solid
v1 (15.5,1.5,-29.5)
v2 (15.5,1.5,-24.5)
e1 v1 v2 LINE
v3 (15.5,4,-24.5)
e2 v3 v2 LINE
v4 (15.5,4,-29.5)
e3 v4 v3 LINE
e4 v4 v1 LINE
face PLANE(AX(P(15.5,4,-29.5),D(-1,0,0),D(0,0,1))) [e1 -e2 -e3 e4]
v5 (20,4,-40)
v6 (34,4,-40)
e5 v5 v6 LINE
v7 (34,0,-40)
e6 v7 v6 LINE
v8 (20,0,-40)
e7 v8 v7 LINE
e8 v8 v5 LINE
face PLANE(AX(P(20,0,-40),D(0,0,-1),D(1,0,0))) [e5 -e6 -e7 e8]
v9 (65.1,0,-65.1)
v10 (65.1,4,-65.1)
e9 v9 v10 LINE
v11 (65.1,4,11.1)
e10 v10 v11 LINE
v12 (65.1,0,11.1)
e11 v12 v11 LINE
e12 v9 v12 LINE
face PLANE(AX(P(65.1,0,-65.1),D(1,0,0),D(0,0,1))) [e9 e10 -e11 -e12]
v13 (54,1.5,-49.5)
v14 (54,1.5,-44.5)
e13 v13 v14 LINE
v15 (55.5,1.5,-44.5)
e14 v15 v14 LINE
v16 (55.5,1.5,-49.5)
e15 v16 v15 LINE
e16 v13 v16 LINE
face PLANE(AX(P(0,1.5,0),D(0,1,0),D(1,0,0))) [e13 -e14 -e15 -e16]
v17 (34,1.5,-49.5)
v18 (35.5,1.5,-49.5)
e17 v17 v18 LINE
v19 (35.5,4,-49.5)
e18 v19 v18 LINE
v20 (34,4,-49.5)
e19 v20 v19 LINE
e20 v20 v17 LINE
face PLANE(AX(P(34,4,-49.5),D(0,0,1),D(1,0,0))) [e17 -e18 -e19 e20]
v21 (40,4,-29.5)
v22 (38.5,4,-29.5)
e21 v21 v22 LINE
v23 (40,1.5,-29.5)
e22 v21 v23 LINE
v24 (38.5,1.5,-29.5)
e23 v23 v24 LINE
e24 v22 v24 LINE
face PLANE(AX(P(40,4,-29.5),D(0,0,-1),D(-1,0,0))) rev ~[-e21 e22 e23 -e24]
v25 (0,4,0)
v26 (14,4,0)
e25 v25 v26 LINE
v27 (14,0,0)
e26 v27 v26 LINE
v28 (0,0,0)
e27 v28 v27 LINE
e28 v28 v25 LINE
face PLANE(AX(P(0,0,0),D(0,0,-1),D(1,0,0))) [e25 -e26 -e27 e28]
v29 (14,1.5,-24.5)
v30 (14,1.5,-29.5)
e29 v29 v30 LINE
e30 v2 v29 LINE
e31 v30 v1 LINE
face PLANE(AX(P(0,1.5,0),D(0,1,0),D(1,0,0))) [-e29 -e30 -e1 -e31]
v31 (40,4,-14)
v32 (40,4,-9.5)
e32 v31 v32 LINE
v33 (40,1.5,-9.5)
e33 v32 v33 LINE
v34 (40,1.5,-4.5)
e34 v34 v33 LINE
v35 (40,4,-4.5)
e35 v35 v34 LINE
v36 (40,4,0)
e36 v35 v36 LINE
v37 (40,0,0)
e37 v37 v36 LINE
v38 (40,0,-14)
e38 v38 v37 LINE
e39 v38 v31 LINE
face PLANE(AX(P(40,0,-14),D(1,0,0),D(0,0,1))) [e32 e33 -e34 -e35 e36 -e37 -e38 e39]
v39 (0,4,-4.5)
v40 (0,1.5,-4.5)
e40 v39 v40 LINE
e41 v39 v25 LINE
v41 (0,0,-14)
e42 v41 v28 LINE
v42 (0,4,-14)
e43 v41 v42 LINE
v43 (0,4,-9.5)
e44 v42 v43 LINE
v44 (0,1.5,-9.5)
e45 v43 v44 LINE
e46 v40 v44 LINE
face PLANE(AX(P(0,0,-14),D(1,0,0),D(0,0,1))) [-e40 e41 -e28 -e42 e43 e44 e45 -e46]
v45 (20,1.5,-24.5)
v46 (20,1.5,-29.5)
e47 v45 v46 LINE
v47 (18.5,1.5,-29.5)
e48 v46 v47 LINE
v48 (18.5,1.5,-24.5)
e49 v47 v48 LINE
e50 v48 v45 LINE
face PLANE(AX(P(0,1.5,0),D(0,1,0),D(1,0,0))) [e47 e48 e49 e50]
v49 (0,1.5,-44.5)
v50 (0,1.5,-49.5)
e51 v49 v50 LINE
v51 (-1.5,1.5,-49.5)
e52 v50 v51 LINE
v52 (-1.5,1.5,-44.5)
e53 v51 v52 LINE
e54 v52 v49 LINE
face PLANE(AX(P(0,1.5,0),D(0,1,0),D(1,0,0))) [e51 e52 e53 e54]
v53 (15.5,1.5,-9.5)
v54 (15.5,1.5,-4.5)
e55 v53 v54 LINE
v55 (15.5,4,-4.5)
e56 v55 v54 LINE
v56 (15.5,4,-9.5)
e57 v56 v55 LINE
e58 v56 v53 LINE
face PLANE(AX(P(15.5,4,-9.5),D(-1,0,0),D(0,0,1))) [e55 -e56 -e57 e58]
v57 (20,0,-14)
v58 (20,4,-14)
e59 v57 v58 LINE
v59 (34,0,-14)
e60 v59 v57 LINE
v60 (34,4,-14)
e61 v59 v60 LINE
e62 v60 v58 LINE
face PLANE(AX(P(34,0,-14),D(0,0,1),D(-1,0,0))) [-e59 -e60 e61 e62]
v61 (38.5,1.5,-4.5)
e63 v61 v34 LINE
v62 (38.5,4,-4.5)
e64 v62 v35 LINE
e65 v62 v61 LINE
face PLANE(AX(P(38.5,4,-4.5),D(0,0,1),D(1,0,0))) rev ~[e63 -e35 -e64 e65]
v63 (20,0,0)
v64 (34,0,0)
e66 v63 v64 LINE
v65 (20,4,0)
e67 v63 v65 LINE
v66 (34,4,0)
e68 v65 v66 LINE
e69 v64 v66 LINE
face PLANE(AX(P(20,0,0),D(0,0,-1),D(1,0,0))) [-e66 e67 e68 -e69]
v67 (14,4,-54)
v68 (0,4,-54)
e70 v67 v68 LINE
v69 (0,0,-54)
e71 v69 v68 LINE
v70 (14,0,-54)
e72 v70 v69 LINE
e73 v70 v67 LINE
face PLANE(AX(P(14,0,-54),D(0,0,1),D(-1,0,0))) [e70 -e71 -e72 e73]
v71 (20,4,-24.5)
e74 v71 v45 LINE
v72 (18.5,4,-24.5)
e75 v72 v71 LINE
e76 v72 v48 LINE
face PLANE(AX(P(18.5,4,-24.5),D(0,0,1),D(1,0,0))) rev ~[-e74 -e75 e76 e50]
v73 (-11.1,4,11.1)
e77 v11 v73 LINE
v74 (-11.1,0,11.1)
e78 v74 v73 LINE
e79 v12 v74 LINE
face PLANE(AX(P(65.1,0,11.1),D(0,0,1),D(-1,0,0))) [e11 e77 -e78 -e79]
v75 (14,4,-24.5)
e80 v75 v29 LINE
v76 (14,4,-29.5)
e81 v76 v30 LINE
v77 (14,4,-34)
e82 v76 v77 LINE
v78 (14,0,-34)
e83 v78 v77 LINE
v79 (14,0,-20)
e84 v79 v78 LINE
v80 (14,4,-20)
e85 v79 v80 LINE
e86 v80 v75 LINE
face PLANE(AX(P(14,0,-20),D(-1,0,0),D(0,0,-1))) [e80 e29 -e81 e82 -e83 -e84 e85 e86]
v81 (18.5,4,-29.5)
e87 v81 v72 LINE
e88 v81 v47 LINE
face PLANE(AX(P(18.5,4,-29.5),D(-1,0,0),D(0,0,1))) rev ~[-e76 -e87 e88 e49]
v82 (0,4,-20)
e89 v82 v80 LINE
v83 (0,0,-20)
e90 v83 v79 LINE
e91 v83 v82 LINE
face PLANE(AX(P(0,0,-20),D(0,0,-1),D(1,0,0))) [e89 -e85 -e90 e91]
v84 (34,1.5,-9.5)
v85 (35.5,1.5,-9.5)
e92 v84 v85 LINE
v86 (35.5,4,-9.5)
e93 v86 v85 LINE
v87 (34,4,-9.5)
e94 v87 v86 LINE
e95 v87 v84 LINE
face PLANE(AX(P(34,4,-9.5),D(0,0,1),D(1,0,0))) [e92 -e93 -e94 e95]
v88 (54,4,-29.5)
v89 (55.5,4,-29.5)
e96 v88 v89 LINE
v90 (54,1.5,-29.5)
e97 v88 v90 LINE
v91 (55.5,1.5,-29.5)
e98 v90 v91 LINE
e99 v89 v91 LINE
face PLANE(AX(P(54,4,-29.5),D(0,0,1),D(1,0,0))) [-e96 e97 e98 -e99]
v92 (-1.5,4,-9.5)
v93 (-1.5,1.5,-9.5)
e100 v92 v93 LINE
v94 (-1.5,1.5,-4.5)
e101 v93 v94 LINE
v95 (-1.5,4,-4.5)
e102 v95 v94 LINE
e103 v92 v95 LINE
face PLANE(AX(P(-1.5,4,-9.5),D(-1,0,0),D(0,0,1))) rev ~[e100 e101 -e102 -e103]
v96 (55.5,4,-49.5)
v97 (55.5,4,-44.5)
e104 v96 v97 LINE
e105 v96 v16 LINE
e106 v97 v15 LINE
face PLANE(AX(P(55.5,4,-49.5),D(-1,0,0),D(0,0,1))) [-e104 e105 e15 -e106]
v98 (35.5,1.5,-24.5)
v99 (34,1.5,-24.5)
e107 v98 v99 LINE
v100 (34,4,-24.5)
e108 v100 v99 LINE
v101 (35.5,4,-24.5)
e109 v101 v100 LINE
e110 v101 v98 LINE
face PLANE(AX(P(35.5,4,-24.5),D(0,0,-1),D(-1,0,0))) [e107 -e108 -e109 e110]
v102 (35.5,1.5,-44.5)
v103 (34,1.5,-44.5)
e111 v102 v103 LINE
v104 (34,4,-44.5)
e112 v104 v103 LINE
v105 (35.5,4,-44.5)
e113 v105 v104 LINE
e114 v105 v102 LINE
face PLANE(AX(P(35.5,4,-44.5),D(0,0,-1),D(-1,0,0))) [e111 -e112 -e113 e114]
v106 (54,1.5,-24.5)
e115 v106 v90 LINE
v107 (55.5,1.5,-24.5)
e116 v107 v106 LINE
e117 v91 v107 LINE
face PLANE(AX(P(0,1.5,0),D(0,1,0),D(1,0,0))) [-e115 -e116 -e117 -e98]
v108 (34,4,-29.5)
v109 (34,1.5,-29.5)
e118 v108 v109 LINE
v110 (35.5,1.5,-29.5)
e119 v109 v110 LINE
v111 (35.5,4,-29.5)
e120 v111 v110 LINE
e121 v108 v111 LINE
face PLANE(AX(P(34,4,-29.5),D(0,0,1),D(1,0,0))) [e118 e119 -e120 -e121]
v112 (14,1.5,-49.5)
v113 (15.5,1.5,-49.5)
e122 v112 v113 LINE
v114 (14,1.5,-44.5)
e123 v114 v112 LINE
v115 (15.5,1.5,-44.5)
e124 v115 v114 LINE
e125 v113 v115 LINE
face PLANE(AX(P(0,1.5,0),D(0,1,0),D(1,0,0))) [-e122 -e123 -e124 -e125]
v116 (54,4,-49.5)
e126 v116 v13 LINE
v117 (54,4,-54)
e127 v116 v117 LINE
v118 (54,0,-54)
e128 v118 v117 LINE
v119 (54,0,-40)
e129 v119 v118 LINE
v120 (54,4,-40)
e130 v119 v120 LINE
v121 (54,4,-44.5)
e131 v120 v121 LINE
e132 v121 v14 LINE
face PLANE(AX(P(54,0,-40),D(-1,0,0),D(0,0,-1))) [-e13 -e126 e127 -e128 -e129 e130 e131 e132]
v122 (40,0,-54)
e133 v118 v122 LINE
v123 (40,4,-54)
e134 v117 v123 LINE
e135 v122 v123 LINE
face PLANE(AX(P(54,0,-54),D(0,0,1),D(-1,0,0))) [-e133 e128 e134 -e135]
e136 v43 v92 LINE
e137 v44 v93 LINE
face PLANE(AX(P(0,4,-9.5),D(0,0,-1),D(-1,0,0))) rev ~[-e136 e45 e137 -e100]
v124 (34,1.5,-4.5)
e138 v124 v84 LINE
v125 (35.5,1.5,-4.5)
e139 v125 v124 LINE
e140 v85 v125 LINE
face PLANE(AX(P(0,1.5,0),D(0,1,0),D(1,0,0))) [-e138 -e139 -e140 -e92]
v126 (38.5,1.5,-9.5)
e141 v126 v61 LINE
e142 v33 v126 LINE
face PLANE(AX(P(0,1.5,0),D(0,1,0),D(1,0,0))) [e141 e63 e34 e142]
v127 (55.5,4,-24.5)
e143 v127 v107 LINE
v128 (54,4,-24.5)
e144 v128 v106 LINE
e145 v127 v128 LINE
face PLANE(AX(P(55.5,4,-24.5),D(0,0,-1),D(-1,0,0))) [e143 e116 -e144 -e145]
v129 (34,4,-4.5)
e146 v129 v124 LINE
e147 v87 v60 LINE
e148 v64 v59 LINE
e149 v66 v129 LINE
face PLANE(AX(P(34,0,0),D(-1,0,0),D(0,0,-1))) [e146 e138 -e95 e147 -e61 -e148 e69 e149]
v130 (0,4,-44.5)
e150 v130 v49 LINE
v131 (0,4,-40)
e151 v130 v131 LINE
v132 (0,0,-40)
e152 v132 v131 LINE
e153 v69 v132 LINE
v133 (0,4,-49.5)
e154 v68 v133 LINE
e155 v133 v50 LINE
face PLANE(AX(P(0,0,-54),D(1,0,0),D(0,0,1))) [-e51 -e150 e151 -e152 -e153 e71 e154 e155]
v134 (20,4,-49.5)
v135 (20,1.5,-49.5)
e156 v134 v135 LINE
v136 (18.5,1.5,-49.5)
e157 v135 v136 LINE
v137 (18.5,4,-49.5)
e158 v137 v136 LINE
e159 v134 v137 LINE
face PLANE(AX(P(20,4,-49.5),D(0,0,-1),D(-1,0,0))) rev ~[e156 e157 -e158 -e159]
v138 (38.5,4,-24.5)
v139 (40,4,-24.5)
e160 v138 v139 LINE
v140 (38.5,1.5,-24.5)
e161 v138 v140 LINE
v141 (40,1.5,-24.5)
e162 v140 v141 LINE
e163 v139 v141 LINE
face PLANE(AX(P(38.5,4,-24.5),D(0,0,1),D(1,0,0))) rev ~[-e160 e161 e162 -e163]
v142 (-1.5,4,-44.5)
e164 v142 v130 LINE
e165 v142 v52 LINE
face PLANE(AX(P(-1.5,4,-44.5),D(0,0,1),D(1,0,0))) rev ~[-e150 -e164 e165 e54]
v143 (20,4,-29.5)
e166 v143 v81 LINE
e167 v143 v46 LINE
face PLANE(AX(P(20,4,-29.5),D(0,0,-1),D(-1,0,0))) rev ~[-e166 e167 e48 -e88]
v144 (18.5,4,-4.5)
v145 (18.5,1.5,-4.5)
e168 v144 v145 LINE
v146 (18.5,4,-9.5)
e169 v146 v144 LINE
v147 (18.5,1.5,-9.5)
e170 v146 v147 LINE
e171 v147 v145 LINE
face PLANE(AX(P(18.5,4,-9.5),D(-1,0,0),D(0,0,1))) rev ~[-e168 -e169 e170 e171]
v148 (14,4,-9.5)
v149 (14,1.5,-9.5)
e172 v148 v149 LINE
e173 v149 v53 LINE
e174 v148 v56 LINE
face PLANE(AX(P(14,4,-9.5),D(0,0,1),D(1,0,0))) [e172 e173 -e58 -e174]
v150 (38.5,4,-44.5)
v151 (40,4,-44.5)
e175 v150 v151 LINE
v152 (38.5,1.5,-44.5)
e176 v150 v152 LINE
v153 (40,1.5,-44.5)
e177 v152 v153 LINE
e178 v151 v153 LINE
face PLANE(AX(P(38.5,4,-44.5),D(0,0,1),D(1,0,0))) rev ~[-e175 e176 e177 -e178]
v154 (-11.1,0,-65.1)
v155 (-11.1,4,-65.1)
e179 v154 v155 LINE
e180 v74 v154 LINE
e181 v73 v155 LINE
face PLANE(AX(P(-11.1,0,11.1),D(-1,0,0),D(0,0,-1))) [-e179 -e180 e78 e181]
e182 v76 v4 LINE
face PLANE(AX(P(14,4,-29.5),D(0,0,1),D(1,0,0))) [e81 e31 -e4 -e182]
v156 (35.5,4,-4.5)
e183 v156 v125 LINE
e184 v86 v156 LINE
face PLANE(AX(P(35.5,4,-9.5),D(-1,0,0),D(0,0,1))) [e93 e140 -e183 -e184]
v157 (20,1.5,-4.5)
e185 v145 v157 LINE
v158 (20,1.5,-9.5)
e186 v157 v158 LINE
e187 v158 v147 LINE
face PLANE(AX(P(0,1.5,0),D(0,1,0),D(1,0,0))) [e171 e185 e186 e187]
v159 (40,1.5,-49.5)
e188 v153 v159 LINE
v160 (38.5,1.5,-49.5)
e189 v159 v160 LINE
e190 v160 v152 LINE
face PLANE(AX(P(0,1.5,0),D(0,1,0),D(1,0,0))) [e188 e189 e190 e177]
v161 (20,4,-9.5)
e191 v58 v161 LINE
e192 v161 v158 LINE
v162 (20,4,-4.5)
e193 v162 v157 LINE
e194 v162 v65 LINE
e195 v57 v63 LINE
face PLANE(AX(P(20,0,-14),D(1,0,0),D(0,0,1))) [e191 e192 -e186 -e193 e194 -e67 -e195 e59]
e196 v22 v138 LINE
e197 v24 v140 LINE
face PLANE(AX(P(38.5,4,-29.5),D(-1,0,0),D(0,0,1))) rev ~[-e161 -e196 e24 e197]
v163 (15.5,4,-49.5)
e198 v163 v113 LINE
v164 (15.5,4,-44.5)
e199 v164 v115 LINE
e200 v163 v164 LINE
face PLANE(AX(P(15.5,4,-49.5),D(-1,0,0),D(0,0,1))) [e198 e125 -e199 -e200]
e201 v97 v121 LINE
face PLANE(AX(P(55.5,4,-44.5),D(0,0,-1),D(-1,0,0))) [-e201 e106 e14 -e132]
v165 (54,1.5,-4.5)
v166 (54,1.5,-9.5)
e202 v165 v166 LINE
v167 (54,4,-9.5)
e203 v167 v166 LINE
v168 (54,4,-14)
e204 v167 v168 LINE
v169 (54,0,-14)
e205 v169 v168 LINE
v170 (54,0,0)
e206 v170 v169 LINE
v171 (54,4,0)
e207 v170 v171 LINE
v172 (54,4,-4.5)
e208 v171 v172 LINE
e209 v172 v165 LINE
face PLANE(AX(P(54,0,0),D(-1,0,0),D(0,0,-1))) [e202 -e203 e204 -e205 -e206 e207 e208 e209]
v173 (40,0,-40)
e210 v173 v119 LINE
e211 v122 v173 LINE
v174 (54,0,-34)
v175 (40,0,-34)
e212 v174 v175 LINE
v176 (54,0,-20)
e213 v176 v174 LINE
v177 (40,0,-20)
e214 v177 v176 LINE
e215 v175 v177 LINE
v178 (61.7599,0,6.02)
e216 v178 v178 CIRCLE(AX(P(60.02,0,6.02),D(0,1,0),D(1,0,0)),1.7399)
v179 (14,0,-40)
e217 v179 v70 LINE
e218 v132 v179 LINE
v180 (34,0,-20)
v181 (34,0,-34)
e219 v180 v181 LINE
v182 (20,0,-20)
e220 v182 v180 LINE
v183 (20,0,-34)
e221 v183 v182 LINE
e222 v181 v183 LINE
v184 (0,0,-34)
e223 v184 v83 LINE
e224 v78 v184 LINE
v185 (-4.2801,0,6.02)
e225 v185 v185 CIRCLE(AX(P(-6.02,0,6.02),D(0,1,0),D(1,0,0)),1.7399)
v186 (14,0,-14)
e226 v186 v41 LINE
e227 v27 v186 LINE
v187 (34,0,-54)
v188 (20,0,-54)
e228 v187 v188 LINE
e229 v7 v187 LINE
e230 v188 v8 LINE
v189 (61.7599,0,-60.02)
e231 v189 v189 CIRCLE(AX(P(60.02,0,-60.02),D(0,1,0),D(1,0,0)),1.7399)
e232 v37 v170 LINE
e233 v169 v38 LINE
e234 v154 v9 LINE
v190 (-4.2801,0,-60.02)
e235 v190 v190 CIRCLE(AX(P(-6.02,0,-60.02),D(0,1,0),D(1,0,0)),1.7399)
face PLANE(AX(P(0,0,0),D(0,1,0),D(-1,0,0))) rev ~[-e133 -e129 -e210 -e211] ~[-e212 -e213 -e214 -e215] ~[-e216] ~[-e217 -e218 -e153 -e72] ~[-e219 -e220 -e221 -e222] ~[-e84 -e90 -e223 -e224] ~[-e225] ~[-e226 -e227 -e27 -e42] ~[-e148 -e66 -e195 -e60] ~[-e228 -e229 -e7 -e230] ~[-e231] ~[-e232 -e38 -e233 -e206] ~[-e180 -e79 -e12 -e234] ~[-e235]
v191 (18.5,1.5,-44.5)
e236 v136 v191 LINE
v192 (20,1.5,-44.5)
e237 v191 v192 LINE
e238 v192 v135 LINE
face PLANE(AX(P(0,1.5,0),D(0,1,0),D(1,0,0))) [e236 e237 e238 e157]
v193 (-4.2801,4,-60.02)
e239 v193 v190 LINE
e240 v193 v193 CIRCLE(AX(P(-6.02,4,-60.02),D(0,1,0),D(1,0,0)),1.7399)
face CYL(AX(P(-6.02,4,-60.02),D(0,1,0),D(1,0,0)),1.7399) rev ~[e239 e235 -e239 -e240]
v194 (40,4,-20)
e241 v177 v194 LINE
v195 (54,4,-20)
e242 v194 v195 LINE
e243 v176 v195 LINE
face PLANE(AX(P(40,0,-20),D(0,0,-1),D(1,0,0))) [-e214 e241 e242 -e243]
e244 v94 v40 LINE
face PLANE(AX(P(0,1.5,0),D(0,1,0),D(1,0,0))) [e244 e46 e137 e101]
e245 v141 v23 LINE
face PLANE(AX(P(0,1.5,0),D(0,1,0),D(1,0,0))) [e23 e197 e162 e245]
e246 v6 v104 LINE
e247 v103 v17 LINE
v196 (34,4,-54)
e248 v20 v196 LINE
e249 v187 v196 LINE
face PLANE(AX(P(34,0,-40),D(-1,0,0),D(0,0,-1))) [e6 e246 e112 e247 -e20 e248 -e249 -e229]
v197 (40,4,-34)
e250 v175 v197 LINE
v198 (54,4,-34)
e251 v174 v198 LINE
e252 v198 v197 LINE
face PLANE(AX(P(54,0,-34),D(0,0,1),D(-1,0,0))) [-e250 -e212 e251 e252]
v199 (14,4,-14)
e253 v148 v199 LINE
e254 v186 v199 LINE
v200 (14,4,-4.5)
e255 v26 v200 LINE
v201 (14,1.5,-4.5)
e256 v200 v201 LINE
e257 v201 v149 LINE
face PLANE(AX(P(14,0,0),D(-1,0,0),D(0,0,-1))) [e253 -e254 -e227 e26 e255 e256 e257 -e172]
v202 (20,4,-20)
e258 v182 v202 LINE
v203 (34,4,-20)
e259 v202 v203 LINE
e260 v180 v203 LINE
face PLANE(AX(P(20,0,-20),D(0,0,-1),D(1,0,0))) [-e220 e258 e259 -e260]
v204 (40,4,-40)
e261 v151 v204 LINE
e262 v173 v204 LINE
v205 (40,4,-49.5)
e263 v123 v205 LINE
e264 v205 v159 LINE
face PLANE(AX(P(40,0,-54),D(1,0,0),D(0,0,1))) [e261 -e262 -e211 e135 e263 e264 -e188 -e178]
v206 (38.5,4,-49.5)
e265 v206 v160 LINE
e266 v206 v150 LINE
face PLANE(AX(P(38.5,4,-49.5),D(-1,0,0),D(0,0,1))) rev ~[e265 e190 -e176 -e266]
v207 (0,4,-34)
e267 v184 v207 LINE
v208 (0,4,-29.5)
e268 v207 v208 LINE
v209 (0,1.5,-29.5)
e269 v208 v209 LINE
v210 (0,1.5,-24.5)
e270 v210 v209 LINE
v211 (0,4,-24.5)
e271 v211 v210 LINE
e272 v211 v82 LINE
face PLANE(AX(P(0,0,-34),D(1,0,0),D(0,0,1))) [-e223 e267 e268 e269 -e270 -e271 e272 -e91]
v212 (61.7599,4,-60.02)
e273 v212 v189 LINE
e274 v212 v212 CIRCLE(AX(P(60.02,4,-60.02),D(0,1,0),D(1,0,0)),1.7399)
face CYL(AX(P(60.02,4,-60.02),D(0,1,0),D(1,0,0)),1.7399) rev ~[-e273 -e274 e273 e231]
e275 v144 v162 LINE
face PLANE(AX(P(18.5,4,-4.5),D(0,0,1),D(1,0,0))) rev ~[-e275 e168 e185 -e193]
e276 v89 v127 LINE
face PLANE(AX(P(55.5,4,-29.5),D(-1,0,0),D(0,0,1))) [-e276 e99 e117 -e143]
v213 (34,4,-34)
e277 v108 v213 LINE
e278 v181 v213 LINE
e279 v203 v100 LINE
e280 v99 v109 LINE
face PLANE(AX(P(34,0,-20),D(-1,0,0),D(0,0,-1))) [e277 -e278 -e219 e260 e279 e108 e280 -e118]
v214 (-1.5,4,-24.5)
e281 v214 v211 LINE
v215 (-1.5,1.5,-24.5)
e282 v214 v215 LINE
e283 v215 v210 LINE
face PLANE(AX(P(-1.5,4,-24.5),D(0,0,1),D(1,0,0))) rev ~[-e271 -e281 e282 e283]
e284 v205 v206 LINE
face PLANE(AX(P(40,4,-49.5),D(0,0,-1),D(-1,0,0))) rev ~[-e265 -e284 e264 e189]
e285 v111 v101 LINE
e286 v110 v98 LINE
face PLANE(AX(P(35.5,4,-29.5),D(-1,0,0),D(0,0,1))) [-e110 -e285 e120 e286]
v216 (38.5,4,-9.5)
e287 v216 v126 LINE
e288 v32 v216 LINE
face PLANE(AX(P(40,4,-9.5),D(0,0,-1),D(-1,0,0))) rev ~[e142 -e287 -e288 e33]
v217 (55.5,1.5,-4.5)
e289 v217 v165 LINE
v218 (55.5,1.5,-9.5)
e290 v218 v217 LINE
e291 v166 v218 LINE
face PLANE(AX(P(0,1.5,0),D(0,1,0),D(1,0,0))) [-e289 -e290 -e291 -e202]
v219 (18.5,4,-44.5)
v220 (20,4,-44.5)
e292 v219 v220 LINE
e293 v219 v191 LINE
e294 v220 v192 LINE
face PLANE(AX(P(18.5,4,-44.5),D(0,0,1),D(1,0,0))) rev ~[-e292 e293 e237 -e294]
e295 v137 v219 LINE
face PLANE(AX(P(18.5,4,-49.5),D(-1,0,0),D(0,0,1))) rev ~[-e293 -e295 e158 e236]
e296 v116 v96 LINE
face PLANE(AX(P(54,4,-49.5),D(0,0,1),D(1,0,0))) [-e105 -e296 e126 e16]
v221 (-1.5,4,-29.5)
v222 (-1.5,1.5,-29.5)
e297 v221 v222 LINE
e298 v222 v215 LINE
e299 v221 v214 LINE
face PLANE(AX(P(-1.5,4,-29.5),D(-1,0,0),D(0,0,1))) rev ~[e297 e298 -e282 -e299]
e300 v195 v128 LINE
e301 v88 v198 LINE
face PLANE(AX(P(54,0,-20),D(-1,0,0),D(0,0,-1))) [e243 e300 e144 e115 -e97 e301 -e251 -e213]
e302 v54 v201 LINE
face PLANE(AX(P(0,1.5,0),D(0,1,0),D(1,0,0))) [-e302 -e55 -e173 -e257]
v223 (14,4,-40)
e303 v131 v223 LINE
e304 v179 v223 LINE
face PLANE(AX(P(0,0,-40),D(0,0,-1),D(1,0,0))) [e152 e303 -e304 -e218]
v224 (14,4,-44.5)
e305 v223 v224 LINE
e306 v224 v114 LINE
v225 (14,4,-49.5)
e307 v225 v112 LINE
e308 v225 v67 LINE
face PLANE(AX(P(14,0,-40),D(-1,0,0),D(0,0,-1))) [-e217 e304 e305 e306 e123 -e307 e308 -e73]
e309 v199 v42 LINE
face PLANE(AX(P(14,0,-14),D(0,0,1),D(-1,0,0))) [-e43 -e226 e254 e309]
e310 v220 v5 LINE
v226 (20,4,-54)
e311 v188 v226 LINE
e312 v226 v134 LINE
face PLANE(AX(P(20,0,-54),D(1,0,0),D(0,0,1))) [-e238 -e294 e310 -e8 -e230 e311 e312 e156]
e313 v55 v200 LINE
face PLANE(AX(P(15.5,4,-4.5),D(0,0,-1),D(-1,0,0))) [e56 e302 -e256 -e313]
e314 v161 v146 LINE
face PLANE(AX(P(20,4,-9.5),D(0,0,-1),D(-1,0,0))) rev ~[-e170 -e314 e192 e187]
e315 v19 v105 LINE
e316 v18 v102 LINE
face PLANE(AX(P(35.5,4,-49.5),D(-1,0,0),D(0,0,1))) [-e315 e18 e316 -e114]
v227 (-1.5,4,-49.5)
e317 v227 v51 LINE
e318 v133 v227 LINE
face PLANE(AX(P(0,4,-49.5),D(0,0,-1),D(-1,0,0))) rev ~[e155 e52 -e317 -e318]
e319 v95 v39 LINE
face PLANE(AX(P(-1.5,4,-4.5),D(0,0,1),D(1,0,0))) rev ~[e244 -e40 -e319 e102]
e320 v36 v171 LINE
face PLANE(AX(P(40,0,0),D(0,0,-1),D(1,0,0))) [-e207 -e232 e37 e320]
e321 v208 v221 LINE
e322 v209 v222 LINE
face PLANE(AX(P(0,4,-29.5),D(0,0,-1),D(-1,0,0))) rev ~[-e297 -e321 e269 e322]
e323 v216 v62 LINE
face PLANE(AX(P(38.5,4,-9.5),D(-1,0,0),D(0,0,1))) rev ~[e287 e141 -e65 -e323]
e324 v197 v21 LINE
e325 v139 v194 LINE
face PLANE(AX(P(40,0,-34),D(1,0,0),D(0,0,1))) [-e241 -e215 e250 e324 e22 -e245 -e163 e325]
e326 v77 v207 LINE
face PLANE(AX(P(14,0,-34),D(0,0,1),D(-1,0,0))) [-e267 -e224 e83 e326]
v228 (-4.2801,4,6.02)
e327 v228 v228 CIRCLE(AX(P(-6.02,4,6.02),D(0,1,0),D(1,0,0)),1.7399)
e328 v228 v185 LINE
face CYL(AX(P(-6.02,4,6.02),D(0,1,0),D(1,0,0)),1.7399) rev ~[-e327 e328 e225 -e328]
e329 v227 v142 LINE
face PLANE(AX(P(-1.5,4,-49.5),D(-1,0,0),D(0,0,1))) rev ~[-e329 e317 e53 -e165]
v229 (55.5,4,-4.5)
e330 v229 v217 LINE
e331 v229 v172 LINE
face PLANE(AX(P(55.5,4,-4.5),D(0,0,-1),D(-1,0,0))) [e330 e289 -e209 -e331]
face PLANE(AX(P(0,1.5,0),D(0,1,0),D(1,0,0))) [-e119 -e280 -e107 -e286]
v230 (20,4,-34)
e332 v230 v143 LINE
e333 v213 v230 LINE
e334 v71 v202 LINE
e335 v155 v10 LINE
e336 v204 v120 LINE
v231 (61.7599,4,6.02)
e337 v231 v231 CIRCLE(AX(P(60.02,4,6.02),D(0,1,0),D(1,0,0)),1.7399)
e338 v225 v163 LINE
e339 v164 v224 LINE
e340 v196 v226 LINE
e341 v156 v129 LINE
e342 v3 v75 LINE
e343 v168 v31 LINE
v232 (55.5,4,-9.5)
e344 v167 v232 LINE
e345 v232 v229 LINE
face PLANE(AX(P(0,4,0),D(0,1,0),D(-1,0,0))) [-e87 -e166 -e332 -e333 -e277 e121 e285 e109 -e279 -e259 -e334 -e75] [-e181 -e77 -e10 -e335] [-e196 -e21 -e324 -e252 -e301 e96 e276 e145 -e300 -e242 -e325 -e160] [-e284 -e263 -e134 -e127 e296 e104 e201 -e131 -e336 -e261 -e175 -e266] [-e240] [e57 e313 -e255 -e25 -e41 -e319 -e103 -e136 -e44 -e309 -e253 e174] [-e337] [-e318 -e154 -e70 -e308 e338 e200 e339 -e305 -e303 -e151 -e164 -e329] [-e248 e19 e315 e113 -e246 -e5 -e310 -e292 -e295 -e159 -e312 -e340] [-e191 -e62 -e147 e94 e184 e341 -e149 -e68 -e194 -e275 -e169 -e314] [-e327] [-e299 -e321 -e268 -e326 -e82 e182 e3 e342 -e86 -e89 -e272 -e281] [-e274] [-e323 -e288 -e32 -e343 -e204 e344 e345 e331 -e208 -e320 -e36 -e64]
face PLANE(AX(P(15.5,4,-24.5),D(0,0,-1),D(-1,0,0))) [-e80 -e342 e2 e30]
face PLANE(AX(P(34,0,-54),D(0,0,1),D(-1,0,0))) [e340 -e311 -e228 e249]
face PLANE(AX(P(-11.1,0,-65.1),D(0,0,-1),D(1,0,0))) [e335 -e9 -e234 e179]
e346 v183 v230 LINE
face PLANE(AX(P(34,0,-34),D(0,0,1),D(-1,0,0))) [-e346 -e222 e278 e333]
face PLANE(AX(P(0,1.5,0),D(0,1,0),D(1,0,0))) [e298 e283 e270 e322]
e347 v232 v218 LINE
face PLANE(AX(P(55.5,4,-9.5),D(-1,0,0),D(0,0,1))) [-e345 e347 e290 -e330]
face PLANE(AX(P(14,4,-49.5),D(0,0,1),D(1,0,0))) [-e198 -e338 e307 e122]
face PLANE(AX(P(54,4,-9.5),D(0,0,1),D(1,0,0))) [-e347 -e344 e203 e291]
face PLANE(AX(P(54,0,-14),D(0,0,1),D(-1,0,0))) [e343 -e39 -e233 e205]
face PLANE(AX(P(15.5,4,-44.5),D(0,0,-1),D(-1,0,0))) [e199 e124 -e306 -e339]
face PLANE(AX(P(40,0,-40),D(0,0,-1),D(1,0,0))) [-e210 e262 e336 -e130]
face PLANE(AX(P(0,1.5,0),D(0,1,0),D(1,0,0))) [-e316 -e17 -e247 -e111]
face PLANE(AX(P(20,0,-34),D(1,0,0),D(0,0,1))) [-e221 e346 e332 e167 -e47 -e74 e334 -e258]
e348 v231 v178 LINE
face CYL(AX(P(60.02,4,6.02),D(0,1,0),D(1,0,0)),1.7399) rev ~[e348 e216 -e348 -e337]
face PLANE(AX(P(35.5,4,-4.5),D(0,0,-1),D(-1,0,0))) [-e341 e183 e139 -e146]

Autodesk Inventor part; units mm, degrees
ref_plane "YZ Plane" through (0, 0, 0) normal (1, 0, 0) x (0, 1, 0)
ref_plane "XZ Plane" through (0, 0, 0) normal (0, 1, 0) x (-1, 0, 0)
ref_plane "XY Plane" through (0, 0, 0) normal (0, 0, 1) x (1, 0, 0)
sketch "Sketch1" plane through (0, 0, 0) normal (0, 1, 0) x (-1, 0, 0)
  line L0 (0, 0) -> (-14, 0)
  line L1 (-14, 0) -> (-14, -14)
  line L2 (-14, -14) -> (0, -14)
  line L3 (0, -14) -> (0, 0)
  line L4 (0, -20) -> (-14, -20)
  line L5 (0, -34) -> (0, -20)
  line L6 (-14, -34) -> (0, -34)
  line L7 (-14, -20) -> (-14, -34)
  line L8 (0, -40) -> (-14, -40)
  line L9 (0, -54) -> (0, -40)
  line L10 (-14, -54) -> (0, -54)
  line L11 (-14, -40) -> (-14, -54)
  line L12 (-20, 0) -> (-34, 0)
  line L13 (-20, -14) -> (-20, 0)
  line L14 (-34, -14) -> (-20, -14)
  line L15 (-34, 0) -> (-34, -14)
  line L16 (-20, -20) -> (-34, -20)
  line L17 (-20, -34) -> (-20, -20)
  line L18 (-34, -34) -> (-20, -34)
  line L19 (-34, -20) -> (-34, -34)
  line L20 (-20, -40) -> (-34, -40)
  line L21 (-20, -54) -> (-20, -40)
  line L22 (-34, -54) -> (-20, -54)
  line L23 (-34, -40) -> (-34, -54)
  line L24 (-40, 0) -> (-54, 0)
  line L25 (-40, -14) -> (-40, 0)
  line L26 (-54, -14) -> (-40, -14)
  line L27 (-54, 0) -> (-54, -14)
  line L28 (-40, -20) -> (-54, -20)
  line L29 (-40, -34) -> (-40, -20)
  line L30 (-54, -34) -> (-40, -34)
  line L31 (-54, -20) -> (-54, -34)
  line L32 (-40, -40) -> (-54, -40)
  line L33 (-40, -54) -> (-40, -40)
  line L34 (-54, -54) -> (-40, -54)
  line L35 (-54, -40) -> (-54, -54)
  line L36 (-59.4, -59.4) -> (-59.4, 5.4)
  line L37 (-59.4, 5.4) -> (5.4, 5.4)
  line L38 (5.4, 5.4) -> (5.4, -59.4)
  line L39 (5.4, -59.4) -> (-59.4, -59.4)
  line L40 (0, -20) -> (0, -14)
  line L41 (-14, 0) -> (-20, 0)
  dimension "d0" = 14
  dimension "d1" = 14
  dimension "d4" = 20
  dimension "d7" = 20
  dimension "d10" = 25.4
extrude "Extrusion1" add sketch "Sketch1" along normal blind 4
sketch "Sketch2" plane through (0, 0, 0) normal (0, -1, 0) x (1, 0, 0)
  line L0 (34, -20) -> (20, -20) construction
  line L1 (20, -20) -> (20, -34) construction
  line L2 (34, -20) -> (20, -34) construction
  line L3 (65.1, 11.1) -> (-11.1, 11.1)
  line L4 (-11.1, 11.1) -> (-11.1, -65.1)
  line L5 (-11.1, -65.1) -> (65.1, -65.1)
  line L6 (65.1, -65.1) -> (65.1, 11.1)
  line L7 (65.1, 11.1) -> (-11.1, -65.1) construction
  line L8 (-11.1, 11.1) -> (65.1, -65.1) construction
  line L9 (59.4, 5.4) -> (-5.4, 5.4)
  line L10 (-5.4, 5.4) -> (-5.4, -59.4)
  line L11 (-5.4, -59.4) -> (59.4, -59.4)
  line L12 (59.4, -59.4) -> (59.4, 5.4)
  line L13 (59.4, 5.4) -> (-5.4, -59.4) construction
  line L14 (-5.4, 5.4) -> (59.4, -59.4) construction
  point P0 (0, 0)
  point P1 (27, -27)
  dimension "d13" = 76.2
extrude "Extrusion2" add sketch "Sketch2" against normal blind 4
sketch "Sketch3" plane through (0, 4, 0) normal (0, 1, 0) x (1, 0, 0)
  line L0 (54, 54) -> (54, 40) projected
  line L1 (54, 49.5) -> (55.5, 49.5)
  line L2 (55.5, 49.5) -> (55.5, 44.5)
  line L3 (55.5, 44.5) -> (54, 44.5)
  line L4 (54, 44.5) -> (54, 49.5)
  line L5 (40, 40) -> (40, 54) construction
  line L6 (40, 49.5) -> (38.5, 49.5)
  line L7 (38.5, 49.5) -> (38.5, 44.5)
  line L8 (38.5, 44.5) -> (40, 44.5)
  line L9 (40, 44.5) -> (40, 49.5)
  line L10 (54, 40) -> (40, 40) projected
  line L11 (54, 40) -> (40, 40)
  line L12 (54, 29.5) -> (55.5, 29.5)
  line L13 (55.5, 29.5) -> (55.5, 24.5)
  line L14 (54, 24.5) -> (54, 29.5)
  line L15 (55.5, 24.5) -> (54, 24.5)
  line L16 (40, 24.5) -> (40, 29.5)
  line L17 (40, 29.5) -> (38.5, 29.5)
  line L18 (38.5, 29.5) -> (38.5, 24.5)
  line L19 (38.5, 24.5) -> (40, 24.5)
  line L20 (54, 9.5) -> (55.5, 9.5)
  line L21 (55.5, 9.5) -> (55.5, 4.5)
  line L22 (54, 4.5) -> (54, 9.5)
  line L23 (55.5, 4.5) -> (54, 4.5)
  line L24 (40, 4.5) -> (40, 9.5)
  line L25 (40, 9.5) -> (38.5, 9.5)
  line L26 (38.5, 9.5) -> (38.5, 4.5)
  line L27 (38.5, 4.5) -> (40, 4.5)
  line L28 (34, 49.5) -> (35.5, 49.5)
  line L29 (35.5, 49.5) -> (35.5, 44.5)
  line L30 (34, 44.5) -> (34, 49.5)
  line L31 (35.5, 44.5) -> (34, 44.5)
  line L32 (20, 44.5) -> (20, 49.5)
  line L33 (20, 49.5) -> (18.5, 49.5)
  line L34 (18.5, 49.5) -> (18.5, 44.5)
  line L35 (18.5, 44.5) -> (20, 44.5)
  line L36 (34, 29.5) -> (35.5, 29.5)
  line L37 (35.5, 29.5) -> (35.5, 24.5)
  line L38 (34, 24.5) -> (34, 29.5)
  line L39 (35.5, 24.5) -> (34, 24.5)
  line L40 (20, 24.5) -> (20, 29.5)
  line L41 (20, 29.5) -> (18.5, 29.5)
  line L42 (18.5, 29.5) -> (18.5, 24.5)
  line L43 (18.5, 24.5) -> (20, 24.5)
  line L44 (34, 9.5) -> (35.5, 9.5)
  line L45 (35.5, 9.5) -> (35.5, 4.5)
  line L46 (34, 4.5) -> (34, 9.5)
  line L47 (35.5, 4.5) -> (34, 4.5)
  line L48 (20, 4.5) -> (20, 9.5)
  line L49 (20, 9.5) -> (18.5, 9.5)
  line L50 (18.5, 9.5) -> (18.5, 4.5)
  line L51 (18.5, 4.5) -> (20, 4.5)
  line L52 (14, 49.5) -> (15.5, 49.5)
  line L53 (15.5, 49.5) -> (15.5, 44.5)
  line L54 (14, 44.5) -> (14, 49.5)
  line L55 (15.5, 44.5) -> (14, 44.5)
  line L56 (0, 44.5) -> (0, 49.5)
  line L57 (0, 49.5) -> (-1.5, 49.5)
  line L58 (-1.5, 49.5) -> (-1.5, 44.5)
  line L59 (-1.5, 44.5) -> (0, 44.5)
  line L60 (14, 29.5) -> (15.5, 29.5)
  line L61 (15.5, 29.5) -> (15.5, 24.5)
  line L62 (14, 24.5) -> (14, 29.5)
  line L63 (15.5, 24.5) -> (14, 24.5)
  line L64 (0, 24.5) -> (0, 29.5)
  line L65 (0, 29.5) -> (-1.5, 29.5)
  line L66 (-1.5, 29.5) -> (-1.5, 24.5)
  line L67 (-1.5, 24.5) -> (0, 24.5)
  line L68 (14, 9.5) -> (15.5, 9.5)
  line L69 (15.5, 9.5) -> (15.5, 4.5)
  line L70 (14, 4.5) -> (14, 9.5)
  line L71 (15.5, 4.5) -> (14, 4.5)
  line L72 (0, 4.5) -> (0, 9.5)
  line L73 (0, 9.5) -> (-1.5, 9.5)
  line L74 (-1.5, 9.5) -> (-1.5, 4.5)
  line L75 (-1.5, 4.5) -> (0, 4.5)
  point P0 (0, 0)
  dimension "d16" = 1.5
  dimension "d17" = 5
  dimension "d18" = 1.5
  dimension "d19" = 5
  dimension "d22" = 20
  dimension "d25" = 20
extrude "Extrusion3" cut sketch "Sketch3" against normal blind 2.5
sketch "Sketch4" plane through (0, 4, 0) normal (0, 1, 0) x (1, 0, 0)
  line L0 (65.1, -11.1) -> (65.1, 65.1) projected
  line L1 (65.1, -11.1) -> (54.94, -11.1)
  line L2 (54.94, -11.1) -> (54.94, -0.94)
  line L3 (54.94, -0.94) -> (65.1, -0.94)
  line L4 (65.1, -0.94) -> (65.1, -11.1)
  circle A0 centre (60.02, -6.02) radius 1.7399
  circle A1 centre (60.02, 60.02) radius 1.7399
  circle A2 centre (-6.02, -6.02) radius 1.7399
  circle A3 centre (-6.02, 60.02) radius 1.7399
  point P0 (0, 0)
  dimension "d30" = 10.16
  dimension "d31" = 10.16
  dimension "d32" = 3.4798
  dimension "d35" = 66.04
  dimension "d38" = 66.04
extrude "Extrusion4" cut sketch "Sketch4" against normal blind 4 contours A0 | A1 | A2 | A3
properties part number "Keypad part 1"
